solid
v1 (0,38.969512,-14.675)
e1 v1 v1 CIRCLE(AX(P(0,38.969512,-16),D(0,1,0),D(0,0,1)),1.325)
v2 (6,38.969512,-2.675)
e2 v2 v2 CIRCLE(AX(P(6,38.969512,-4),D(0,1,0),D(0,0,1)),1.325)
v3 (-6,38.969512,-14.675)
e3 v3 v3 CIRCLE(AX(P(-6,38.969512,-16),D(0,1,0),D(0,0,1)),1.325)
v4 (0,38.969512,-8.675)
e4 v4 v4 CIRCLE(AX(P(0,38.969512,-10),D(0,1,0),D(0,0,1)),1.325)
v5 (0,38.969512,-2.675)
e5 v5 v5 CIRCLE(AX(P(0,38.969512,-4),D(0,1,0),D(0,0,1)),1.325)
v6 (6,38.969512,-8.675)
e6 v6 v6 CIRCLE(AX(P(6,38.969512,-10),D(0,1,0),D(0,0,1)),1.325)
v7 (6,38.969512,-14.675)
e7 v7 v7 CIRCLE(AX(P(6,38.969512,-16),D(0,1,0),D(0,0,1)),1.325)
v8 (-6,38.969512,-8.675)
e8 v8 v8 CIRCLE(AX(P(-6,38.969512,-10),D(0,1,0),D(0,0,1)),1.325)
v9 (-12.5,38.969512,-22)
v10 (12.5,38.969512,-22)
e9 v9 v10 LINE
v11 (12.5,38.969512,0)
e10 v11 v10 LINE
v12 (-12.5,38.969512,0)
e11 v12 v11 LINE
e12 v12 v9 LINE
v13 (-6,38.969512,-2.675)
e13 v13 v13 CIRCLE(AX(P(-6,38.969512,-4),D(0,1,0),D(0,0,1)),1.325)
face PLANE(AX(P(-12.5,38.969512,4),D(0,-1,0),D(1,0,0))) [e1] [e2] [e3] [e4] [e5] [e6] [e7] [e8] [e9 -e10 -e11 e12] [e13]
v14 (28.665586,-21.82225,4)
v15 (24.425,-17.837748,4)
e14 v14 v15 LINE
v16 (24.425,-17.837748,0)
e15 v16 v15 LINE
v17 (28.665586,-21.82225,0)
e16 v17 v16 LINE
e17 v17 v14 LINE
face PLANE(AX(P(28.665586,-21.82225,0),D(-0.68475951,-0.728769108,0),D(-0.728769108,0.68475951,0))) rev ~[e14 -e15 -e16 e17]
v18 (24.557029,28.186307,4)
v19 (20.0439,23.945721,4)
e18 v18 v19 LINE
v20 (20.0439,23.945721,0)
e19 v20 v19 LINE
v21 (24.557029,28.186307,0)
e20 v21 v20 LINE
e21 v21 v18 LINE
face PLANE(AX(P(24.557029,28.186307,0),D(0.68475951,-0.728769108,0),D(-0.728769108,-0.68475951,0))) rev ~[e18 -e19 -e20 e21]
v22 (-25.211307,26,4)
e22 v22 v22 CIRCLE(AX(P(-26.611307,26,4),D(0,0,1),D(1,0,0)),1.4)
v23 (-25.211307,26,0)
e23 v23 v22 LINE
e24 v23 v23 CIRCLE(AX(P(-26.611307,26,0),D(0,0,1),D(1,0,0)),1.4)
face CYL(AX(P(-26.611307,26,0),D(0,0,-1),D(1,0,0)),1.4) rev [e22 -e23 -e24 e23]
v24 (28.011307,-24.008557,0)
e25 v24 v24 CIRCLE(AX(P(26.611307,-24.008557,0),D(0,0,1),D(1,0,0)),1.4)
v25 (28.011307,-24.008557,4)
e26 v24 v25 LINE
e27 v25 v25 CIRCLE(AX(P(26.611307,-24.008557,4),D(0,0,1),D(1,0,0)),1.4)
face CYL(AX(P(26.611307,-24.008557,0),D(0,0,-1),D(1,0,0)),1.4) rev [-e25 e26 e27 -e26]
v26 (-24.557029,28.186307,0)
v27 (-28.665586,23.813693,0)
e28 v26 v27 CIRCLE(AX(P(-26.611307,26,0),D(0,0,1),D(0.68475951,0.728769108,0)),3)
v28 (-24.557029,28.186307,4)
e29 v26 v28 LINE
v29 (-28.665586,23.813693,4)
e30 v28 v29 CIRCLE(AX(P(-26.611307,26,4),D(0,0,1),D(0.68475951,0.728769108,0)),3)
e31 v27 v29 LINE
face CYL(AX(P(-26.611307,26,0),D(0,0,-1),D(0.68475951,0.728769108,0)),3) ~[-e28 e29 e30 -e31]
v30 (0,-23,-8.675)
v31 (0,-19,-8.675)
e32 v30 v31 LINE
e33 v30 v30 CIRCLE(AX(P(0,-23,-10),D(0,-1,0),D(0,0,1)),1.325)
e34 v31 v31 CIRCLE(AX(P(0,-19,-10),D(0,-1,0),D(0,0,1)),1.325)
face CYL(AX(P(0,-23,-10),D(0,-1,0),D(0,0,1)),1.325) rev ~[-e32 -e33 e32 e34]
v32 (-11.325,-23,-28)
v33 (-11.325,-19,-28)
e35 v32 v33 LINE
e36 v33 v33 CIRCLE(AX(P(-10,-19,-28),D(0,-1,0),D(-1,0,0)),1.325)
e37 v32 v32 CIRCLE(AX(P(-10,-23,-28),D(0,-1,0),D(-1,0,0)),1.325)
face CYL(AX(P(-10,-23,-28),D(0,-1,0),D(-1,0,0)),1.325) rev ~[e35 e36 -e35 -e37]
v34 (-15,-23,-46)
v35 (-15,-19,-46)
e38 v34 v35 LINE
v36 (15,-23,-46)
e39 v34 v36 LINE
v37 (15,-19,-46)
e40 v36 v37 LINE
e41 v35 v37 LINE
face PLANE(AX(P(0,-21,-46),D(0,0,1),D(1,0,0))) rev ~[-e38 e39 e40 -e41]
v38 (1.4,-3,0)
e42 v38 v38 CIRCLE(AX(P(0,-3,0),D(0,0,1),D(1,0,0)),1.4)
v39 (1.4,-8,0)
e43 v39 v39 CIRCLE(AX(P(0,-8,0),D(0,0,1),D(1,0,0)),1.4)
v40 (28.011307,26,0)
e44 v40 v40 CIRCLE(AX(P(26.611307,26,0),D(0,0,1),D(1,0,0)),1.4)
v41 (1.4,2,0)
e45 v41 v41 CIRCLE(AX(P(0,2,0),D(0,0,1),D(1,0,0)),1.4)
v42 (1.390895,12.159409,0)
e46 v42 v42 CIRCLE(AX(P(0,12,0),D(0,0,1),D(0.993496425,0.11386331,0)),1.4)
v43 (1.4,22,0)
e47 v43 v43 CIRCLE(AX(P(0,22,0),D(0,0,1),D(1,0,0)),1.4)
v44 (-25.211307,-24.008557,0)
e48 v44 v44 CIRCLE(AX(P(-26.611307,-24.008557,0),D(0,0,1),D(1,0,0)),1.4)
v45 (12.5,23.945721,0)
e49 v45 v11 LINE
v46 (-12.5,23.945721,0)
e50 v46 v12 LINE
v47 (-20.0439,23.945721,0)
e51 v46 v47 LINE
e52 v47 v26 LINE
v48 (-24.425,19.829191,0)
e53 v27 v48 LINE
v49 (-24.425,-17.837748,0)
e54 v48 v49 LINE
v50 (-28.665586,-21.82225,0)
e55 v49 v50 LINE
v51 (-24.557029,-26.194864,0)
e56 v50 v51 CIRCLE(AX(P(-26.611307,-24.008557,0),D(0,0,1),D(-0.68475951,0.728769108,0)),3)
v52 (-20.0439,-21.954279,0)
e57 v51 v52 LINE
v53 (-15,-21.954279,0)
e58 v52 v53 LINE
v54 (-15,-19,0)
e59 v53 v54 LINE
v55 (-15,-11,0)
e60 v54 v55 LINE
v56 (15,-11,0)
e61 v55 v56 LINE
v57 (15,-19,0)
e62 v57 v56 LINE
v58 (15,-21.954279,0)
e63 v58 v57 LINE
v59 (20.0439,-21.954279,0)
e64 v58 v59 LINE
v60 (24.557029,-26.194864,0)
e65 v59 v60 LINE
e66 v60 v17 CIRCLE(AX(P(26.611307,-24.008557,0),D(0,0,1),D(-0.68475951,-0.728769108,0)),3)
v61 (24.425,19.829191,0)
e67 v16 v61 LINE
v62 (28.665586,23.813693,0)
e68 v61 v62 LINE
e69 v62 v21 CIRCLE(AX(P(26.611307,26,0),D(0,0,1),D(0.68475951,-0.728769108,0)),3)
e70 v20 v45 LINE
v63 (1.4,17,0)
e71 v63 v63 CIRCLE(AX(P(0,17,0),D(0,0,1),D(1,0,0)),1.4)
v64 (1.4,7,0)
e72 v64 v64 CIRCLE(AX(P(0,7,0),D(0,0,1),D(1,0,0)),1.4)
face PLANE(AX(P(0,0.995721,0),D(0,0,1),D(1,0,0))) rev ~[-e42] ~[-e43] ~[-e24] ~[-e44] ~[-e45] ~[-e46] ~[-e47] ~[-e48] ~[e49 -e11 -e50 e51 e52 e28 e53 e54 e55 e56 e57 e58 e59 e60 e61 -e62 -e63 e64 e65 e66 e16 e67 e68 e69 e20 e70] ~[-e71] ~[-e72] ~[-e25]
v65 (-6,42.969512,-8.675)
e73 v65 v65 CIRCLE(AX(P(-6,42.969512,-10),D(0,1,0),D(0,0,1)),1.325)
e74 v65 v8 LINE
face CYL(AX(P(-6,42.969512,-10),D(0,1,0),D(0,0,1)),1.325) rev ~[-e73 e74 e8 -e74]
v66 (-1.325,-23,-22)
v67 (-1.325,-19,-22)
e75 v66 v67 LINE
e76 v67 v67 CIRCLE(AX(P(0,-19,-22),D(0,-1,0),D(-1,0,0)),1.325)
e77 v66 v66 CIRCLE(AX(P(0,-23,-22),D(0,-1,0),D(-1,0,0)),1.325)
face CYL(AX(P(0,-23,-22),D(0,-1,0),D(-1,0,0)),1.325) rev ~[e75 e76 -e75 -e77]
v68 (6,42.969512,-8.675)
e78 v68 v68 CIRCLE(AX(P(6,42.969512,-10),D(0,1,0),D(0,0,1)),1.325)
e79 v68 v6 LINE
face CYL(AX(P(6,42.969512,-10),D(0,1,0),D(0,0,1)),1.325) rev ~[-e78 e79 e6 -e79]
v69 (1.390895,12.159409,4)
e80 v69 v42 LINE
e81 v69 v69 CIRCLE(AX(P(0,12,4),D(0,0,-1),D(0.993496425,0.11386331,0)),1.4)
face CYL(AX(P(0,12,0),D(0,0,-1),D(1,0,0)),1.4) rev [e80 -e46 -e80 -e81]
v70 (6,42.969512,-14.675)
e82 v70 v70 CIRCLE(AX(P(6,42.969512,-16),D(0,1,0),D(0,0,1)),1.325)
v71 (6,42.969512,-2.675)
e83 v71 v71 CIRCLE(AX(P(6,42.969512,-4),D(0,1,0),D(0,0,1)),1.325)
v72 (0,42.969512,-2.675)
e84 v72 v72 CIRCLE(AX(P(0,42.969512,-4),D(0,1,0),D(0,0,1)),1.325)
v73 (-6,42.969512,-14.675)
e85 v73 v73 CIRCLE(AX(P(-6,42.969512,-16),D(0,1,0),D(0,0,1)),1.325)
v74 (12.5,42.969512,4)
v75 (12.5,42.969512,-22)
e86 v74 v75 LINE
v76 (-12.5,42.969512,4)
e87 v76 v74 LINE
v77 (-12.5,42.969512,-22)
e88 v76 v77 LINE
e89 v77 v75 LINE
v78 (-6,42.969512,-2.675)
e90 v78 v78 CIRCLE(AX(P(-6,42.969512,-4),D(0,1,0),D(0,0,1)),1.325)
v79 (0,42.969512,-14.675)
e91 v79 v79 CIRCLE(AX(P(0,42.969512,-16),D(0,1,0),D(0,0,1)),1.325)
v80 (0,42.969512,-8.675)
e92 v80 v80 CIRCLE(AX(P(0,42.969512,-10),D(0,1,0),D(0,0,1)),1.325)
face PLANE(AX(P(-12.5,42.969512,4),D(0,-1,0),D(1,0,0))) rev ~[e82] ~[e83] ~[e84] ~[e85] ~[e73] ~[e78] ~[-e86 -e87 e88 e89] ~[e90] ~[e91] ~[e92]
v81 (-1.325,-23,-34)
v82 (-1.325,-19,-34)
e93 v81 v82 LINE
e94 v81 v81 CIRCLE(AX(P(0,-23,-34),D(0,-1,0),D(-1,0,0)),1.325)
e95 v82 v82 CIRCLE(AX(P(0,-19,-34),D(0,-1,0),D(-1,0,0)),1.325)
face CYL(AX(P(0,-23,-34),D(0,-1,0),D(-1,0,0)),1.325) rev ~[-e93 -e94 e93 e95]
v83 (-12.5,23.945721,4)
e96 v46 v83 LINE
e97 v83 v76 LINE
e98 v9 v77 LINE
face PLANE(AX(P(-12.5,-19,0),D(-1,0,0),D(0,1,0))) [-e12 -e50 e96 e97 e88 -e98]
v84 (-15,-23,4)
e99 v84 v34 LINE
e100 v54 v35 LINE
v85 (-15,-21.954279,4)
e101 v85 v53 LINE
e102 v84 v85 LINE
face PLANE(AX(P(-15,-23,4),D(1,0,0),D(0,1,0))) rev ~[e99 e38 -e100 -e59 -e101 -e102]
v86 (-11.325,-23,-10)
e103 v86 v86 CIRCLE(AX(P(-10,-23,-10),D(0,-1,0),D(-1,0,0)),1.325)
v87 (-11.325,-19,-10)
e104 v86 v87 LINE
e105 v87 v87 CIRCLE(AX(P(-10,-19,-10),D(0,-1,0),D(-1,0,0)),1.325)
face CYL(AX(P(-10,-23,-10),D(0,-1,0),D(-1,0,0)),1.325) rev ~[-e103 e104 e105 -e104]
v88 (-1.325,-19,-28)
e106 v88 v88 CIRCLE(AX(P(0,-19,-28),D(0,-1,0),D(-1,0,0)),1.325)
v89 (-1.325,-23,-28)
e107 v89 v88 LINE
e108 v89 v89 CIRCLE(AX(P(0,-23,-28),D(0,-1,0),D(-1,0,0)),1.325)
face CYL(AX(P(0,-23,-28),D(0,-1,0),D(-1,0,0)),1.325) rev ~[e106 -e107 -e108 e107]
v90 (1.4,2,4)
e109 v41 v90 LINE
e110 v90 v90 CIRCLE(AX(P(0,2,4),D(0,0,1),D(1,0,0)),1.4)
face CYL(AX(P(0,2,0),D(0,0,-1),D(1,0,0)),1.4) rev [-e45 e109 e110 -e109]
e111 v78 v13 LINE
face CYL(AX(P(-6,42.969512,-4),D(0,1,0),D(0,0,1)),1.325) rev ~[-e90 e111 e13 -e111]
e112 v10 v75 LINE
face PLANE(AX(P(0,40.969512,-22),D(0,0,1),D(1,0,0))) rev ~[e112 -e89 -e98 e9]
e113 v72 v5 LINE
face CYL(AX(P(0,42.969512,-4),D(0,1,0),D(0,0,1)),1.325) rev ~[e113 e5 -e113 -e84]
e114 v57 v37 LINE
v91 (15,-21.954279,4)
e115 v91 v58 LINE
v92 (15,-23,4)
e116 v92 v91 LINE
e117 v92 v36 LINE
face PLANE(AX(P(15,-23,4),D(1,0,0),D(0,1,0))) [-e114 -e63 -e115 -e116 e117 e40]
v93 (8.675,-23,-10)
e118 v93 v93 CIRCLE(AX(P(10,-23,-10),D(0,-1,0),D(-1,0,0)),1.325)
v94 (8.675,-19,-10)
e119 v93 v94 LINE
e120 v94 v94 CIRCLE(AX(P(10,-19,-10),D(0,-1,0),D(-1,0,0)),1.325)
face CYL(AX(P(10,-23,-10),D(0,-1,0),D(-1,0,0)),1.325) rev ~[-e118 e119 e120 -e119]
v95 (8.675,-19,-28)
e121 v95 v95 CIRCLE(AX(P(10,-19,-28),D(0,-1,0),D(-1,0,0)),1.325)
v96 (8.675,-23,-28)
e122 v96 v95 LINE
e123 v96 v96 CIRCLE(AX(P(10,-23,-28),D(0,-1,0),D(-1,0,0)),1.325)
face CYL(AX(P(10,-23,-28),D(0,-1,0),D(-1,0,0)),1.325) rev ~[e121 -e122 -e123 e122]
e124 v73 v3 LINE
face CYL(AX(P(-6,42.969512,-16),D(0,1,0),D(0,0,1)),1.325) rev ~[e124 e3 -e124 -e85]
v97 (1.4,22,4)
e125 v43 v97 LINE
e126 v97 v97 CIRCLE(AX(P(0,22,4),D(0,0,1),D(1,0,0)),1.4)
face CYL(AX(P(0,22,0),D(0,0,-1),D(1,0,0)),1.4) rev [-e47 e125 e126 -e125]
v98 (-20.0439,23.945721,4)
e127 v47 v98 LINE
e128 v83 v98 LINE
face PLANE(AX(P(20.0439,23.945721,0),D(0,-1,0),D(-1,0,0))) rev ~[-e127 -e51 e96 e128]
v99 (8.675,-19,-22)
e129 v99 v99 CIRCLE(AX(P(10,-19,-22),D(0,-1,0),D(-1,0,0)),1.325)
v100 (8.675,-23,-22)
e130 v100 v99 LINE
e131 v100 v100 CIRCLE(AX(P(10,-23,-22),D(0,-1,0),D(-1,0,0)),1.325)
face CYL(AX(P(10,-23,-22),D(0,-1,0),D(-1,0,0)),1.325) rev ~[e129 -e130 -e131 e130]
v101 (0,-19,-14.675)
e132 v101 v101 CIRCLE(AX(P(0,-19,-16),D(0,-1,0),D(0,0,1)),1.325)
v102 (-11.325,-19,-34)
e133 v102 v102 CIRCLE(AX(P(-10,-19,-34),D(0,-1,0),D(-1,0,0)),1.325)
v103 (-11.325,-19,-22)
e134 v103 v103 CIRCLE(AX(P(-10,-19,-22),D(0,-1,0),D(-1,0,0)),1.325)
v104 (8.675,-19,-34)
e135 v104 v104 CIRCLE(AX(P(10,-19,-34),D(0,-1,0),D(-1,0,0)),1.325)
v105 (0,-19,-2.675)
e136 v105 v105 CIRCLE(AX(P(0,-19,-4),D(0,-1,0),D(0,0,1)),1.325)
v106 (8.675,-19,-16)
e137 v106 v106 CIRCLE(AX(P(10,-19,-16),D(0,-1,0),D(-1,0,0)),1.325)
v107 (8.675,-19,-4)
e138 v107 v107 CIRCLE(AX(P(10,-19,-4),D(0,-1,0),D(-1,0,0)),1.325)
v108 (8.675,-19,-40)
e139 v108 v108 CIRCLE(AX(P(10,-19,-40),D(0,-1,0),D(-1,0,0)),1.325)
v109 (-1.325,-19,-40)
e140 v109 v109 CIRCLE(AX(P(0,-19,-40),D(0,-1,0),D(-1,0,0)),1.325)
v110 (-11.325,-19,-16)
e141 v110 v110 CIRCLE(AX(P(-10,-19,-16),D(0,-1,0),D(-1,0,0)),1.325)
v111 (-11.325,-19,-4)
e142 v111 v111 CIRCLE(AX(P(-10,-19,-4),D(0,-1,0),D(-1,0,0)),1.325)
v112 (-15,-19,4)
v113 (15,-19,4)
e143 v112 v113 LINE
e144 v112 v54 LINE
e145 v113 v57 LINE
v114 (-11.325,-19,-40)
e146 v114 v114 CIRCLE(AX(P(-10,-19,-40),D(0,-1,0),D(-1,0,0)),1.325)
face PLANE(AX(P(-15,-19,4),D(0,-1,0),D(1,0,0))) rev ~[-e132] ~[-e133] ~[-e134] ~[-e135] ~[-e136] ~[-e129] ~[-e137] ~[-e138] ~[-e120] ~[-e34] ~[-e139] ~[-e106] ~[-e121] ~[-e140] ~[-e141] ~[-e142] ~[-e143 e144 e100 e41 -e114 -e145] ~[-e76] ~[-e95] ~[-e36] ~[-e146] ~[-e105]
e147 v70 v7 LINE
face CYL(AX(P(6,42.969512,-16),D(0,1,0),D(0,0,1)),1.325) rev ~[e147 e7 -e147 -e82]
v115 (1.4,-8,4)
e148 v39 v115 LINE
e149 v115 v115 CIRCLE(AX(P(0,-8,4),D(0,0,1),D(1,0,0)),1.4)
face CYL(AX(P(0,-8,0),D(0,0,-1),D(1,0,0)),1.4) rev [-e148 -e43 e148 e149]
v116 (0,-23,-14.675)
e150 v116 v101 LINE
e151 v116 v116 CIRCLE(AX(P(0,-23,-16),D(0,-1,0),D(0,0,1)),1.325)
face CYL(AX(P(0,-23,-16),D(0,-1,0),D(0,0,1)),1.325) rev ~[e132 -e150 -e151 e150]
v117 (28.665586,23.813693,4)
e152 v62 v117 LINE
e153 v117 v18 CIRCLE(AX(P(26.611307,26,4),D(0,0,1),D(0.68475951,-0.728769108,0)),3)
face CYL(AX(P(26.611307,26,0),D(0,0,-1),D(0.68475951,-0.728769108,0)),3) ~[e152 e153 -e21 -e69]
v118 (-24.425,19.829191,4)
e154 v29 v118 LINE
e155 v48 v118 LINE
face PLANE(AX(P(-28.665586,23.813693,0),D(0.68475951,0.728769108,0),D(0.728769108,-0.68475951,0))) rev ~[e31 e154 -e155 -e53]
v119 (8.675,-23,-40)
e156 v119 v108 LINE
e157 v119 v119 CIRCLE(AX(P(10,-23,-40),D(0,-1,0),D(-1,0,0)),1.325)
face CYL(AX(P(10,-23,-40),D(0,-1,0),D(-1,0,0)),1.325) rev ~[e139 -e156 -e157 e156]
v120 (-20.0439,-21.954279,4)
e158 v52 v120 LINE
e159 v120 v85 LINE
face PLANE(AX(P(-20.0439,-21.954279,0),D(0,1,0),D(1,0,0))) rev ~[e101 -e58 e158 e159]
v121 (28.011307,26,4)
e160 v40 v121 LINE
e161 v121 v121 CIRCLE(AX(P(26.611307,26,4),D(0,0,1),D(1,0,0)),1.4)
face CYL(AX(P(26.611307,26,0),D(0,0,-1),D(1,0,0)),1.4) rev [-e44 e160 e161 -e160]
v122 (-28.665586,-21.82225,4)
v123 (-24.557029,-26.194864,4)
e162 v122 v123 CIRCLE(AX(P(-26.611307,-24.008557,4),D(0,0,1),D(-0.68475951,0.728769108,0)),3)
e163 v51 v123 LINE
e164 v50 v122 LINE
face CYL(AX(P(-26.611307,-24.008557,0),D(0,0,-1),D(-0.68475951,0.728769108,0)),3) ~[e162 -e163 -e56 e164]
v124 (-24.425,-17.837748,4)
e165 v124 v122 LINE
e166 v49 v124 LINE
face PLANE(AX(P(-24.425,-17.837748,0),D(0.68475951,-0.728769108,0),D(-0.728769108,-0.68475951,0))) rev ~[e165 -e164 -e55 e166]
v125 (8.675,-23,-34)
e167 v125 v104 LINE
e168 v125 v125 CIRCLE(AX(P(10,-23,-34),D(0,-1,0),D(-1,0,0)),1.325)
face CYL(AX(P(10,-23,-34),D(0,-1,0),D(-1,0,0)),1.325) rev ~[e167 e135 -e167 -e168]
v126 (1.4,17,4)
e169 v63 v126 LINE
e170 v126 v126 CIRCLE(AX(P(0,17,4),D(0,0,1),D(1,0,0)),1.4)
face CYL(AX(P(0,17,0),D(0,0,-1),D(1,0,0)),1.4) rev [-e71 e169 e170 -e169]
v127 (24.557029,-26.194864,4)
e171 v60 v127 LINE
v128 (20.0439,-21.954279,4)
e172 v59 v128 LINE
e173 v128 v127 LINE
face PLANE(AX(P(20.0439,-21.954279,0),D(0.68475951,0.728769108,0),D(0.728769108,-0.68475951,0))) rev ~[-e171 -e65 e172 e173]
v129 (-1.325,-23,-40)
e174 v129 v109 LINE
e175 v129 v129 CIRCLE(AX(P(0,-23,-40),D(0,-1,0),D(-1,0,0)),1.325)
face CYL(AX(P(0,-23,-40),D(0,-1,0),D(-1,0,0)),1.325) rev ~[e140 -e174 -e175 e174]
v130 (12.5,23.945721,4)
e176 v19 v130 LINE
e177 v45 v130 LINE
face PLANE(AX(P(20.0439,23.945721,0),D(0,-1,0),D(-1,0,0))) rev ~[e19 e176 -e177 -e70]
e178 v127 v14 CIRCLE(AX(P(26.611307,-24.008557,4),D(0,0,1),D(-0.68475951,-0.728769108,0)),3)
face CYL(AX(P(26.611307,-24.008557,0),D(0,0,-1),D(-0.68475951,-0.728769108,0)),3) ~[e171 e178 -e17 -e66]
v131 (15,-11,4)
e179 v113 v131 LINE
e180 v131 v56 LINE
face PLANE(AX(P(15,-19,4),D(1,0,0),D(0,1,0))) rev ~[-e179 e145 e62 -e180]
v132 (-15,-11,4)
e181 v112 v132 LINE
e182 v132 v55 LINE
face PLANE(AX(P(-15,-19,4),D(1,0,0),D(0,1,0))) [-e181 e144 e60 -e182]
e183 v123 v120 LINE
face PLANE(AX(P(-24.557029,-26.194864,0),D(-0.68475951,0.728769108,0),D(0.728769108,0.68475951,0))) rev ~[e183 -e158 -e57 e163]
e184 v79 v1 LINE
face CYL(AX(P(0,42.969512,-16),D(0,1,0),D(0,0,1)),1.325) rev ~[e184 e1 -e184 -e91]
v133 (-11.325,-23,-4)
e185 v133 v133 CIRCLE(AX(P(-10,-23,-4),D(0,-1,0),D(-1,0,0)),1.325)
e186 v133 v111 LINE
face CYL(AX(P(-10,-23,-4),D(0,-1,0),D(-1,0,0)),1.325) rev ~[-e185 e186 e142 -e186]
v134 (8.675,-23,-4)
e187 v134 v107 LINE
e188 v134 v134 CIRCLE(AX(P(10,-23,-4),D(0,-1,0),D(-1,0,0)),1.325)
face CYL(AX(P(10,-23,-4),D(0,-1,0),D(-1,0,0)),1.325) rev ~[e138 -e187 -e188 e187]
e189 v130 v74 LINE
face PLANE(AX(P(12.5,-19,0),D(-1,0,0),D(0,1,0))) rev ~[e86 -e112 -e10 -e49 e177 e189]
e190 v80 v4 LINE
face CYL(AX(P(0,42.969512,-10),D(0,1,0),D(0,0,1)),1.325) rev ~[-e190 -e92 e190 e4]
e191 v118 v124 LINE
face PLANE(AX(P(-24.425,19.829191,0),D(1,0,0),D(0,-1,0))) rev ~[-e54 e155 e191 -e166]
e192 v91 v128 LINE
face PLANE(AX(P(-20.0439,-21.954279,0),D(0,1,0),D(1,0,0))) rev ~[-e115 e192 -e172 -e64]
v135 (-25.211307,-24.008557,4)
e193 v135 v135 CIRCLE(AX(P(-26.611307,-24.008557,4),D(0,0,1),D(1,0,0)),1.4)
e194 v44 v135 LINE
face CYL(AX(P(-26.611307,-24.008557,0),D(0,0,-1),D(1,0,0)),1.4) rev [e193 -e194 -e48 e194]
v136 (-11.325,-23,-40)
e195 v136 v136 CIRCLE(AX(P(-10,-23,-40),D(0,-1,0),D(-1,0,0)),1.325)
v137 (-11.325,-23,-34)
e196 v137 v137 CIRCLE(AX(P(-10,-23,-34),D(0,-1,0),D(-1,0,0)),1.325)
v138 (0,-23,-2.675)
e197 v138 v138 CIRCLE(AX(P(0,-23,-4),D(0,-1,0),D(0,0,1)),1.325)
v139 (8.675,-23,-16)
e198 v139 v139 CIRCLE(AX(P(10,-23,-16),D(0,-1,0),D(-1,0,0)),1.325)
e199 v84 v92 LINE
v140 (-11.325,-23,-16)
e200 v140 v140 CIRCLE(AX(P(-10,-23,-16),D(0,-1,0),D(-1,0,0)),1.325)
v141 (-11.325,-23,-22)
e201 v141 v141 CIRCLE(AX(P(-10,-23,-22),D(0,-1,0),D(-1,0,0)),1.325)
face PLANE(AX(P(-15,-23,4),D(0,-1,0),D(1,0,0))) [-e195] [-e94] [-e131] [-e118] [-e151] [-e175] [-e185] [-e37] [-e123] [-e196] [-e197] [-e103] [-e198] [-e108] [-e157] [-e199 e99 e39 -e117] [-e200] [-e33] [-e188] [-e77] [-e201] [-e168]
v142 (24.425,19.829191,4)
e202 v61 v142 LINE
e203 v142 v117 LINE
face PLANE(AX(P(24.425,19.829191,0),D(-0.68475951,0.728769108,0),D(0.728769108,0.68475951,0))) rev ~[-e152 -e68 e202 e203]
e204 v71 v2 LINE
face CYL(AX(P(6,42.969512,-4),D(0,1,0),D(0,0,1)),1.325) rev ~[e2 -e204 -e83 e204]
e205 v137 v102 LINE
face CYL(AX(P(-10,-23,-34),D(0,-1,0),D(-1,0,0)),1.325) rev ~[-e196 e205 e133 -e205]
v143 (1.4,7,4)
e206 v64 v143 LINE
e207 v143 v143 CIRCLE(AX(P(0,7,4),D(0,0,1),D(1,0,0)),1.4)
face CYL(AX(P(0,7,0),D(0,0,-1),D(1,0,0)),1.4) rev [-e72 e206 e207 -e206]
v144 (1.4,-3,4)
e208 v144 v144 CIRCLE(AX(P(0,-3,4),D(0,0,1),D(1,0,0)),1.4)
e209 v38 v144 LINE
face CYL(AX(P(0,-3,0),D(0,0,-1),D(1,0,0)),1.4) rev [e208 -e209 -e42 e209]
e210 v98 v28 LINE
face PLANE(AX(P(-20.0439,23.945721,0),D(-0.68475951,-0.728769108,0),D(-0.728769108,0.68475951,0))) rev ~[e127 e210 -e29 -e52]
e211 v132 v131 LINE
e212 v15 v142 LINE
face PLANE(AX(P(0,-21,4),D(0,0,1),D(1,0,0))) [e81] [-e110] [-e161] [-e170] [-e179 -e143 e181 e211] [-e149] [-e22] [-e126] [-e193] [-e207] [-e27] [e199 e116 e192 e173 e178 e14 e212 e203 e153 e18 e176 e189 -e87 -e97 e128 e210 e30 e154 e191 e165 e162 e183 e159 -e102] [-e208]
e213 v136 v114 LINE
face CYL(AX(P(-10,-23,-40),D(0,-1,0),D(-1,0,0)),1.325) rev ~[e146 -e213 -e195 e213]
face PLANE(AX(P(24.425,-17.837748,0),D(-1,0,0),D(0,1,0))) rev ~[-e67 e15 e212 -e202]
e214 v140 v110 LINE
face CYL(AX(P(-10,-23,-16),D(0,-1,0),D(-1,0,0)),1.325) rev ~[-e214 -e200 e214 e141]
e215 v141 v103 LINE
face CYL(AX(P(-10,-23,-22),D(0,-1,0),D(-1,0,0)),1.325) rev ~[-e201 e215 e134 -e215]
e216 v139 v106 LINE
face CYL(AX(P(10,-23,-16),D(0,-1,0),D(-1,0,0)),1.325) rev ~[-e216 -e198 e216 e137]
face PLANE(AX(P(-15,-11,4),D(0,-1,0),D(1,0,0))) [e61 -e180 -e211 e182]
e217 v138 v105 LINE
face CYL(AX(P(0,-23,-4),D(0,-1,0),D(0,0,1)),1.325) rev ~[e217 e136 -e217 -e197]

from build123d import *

# Parameters (mm, degrees)
SKETCH_1_W                      = 25
SKETCH_1_H                      = 58
SKETCH_1_R                      = 1.4
EXTRUDE_1_DEPTH                 = 4
SKETCH_2_R                      = 1.4
EXTRUDE_2_DEPTH                 = 4
SKETCH_1_2_R                    = 1.4
CUT_EXTRUDE_1_DEPTH             = 4
EXTRUDE_START                   = 4
SKETCH_3_W                      = 25
SKETCH_3_H                      = 4
EXTRUDE_3_DEPTH                 = 26
SKETCH_4_R                      = 1.325
CUT_EXTRUDE_2_DEPTH             = 4
SKETCH_3_3_W                    = 30
SKETCH_3_3_H                    = 4
EXTRUDE_4_DEPTH                 = 50
CUT_EXTRUDE_3_REACH             = 87.702
SKETCH_5_R                      = 1.325
CUT_EXTRUDE_3_DIRECTION_2_DEPTH = 86.70184362
SKETCH_6_W                      = 30
SKETCH_6_H                      = 8
CUT_EXTRUDE_4_DEPTH             = 50


with BuildPart() as part:
    # 草图1 → 凸台-拉伸1 (new body)
    with BuildSketch(Plane.XY):
        with Locations((0, 10)):
            Rectangle(SKETCH_1_W, SKETCH_1_H)
        with Locations((0, 22)):
            Circle(SKETCH_1_R, mode=Mode.SUBTRACT)
        with Locations((0, 17)):
            Circle(SKETCH_1_R, mode=Mode.SUBTRACT)
        with Locations((0, 12)):
            Circle(SKETCH_1_R, mode=Mode.SUBTRACT)
        with Locations((0, 7)):
            Circle(SKETCH_1_R, mode=Mode.SUBTRACT)
        with Locations((0, 2)):
            Circle(SKETCH_1_R, mode=Mode.SUBTRACT)
        with Locations((0, -3)):
            Circle(SKETCH_1_R, mode=Mode.SUBTRACT)
        with Locations((0, -8)):
            Circle(SKETCH_1_R, mode=Mode.SUBTRACT)
        with Locations((0, -13)):
            Circle(SKETCH_1_R, mode=Mode.SUBTRACT)
    extrude(amount=EXTRUDE_1_DEPTH)

    # 草图2 → 凸台-拉伸2 (add)
    with BuildSketch(Plane.XY):
        with BuildLine():
            Line((-20.043899839, 23.945721469), (-24.557028794, 28.186307325))
            ThreePointArc((-24.557028794, 28.186307325), (-28.79761465, 28.054278531), (-28.665585855, 23.813692675))
            Line((-28.665585855, 23.813692675), (-24.425, 19.829191329))
            Line((-24.425, 19.829191329), (-24.425, -17.83774839))
            Line((-24.425, -17.83774839), (-28.665585855, -21.822249736))
            ThreePointArc((-28.665585855, -21.822249736), (-28.79761465, -26.062835592), (-24.557028794, -26.194864386))
            Line((-24.557028794, -26.194864386), (-20.043899839, -21.954278531))
            Line((-20.043899839, -21.954278531), (20.043899839, -21.954278531))
            Line((20.043899839, -21.954278531), (24.557028794, -26.194864386))
            ThreePointArc((24.557028794, -26.194864386), (28.79761465, -26.062835592), (28.665585855, -21.822249736))
            Line((28.665585855, -21.822249736), (24.425, -17.83774839))
            Line((24.425, -17.83774839), (24.425, 19.829191329))
            Line((24.425, 19.829191329), (28.665585855, 23.813692675))
            ThreePointArc((28.665585855, 23.813692675), (28.79761465, 28.054278531), (24.557028794, 28.186307325))
            Line((24.557028794, 28.186307325), (20.043899839, 23.945721469))
            Line((20.043899839, 23.945721469), (-20.043899839, 23.945721469))
        make_face()
        with Locations((-26.611307325, 26)):
            Circle(SKETCH_2_R, mode=Mode.SUBTRACT)
        with Locations((26.611307325, 26)):
            Circle(SKETCH_2_R, mode=Mode.SUBTRACT)
        with Locations((-26.611307325, -24.008557061)):
            Circle(SKETCH_2_R, mode=Mode.SUBTRACT)
        with Locations((26.611307325, -24.008557061)):
            Circle(SKETCH_2_R, mode=Mode.SUBTRACT)
        with BuildLine():
            Line((11.022703843, 3.245721469), (11.549645381, 3.245721469))
            Line((11.549645381, 3.245721469), (11.549645381, -1.254278531))
            Line((11.549645381, -1.254278531), (11.022703843, -1.254278531))
            ThreePointArc((11.022703843, -1.254278531), (-11.25, 0.995721469), (11.022703843, 3.245721469))
        make_face(mode=Mode.SUBTRACT)
    extrude(amount=EXTRUDE_2_DEPTH)

    # 草图1<2> → 切除-拉伸1 (cut)
    with BuildSketch(Plane.XY):
        with Locations((0, 22)):
            Circle(SKETCH_1_2_R)
        with Locations((0, 17)):
            Circle(SKETCH_1_2_R)
        with Locations((0, 12)):
            Circle(SKETCH_1_2_R)
        with Locations((0, -13)):
            Circle(SKETCH_1_2_R)
    extrude(amount=CUT_EXTRUDE_1_DEPTH, mode=Mode.SUBTRACT)

    # 草图3 → 凸台-拉伸3 (add)
    with BuildSketch(Plane.XY.offset(EXTRUDE_START)):
        with Locations((0, 40.969511733)):
            Rectangle(SKETCH_3_W, SKETCH_3_H)
    extrude(amount=-EXTRUDE_3_DEPTH)

    # 草图4 → 切除-拉伸2 (cut)
    with BuildSketch(Plane(origin=(0, 42.969511733, 0), x_dir=(1, 0, 0), z_dir=(0, 1, 0))):
        with Locations(Location((0, 4, 0), (0, 0, 270))):
            Circle(SKETCH_4_R)
        with Locations(Location((6, 4, 0), (0, 0, 270))):
            Circle(SKETCH_4_R)
        with Locations(Location((6, 10, 0), (0, 0, 270))):
            Circle(SKETCH_4_R)
        with Locations(Location((0, 10, 0), (0, 0, 270))):
            Circle(SKETCH_4_R)
        with Locations(Location((0, 16, 0), (0, 0, 270))):
            Circle(SKETCH_4_R)
        with Locations(Location((6, 16, 0), (0, 0, 270))):
            Circle(SKETCH_4_R)
        with Locations(Location((-6, 4, 0), (0, 0, 270))):
            Circle(SKETCH_4_R)
        with Locations(Location((-6, 10, 0), (0, 0, 270))):
            Circle(SKETCH_4_R)
        with Locations(Location((-6, 16, 0), (0, 0, 270))):
            Circle(SKETCH_4_R)
    extrude(amount=-CUT_EXTRUDE_2_DEPTH, mode=Mode.SUBTRACT)

    # 草图3<3> → 凸台-拉伸4 (add)
    with BuildSketch(Plane.XY.offset(EXTRUDE_START)):
        with Locations((0, -21)):
            Rectangle(SKETCH_3_3_W, SKETCH_3_3_H)
    extrude(amount=-EXTRUDE_4_DEPTH)

    # 草图5 → 切除-拉伸3 (cut, up to next)
    with BuildSketch(Plane.XZ.offset(23), mode=Mode.PRIVATE) as cut_extrude_3_sk1:
        with Locations(Location((0, -4, 0), (0, 0, 90))):
            Circle(SKETCH_5_R)
    cut_extrude_3_tool1 = extrude(cut_extrude_3_sk1.sketch, amount=-CUT_EXTRUDE_3_REACH, mode=Mode.PRIVATE) & part.part
    # 草图5 → 切除-拉伸3 (cut, up to next)
    with BuildSketch(Plane.XZ.offset(23), mode=Mode.PRIVATE) as cut_extrude_3_sk2:
        with Locations(Location((10, -4, 0), (0, 0, 180))):
            Circle(SKETCH_5_R)
    cut_extrude_3_tool2 = extrude(cut_extrude_3_sk2.sketch, amount=-CUT_EXTRUDE_3_REACH, mode=Mode.PRIVATE) & part.part
    # 草图5 → 切除-拉伸3 (cut, up to next)
    with BuildSketch(Plane.XZ.offset(23), mode=Mode.PRIVATE) as cut_extrude_3_sk3:
        with Locations(Location((10, -10, 0), (0, 0, 180))):
            Circle(SKETCH_5_R)
    cut_extrude_3_tool3 = extrude(cut_extrude_3_sk3.sketch, amount=-CUT_EXTRUDE_3_REACH, mode=Mode.PRIVATE) & part.part
    # 草图5 → 切除-拉伸3 (cut, up to next)
    with BuildSketch(Plane.XZ.offset(23), mode=Mode.PRIVATE) as cut_extrude_3_sk4:
        with Locations(Location((10, -16, 0), (0, 0, 180))):
            Circle(SKETCH_5_R)
    cut_extrude_3_tool4 = extrude(cut_extrude_3_sk4.sketch, amount=-CUT_EXTRUDE_3_REACH, mode=Mode.PRIVATE) & part.part
    # 草图5 → 切除-拉伸3 (cut, up to next)
    with BuildSketch(Plane.XZ.offset(23), mode=Mode.PRIVATE) as cut_extrude_3_sk5:
        with Locations(Location((10, -22, 0), (0, 0, 180))):
            Circle(SKETCH_5_R)
    cut_extrude_3_tool5 = extrude(cut_extrude_3_sk5.sketch, amount=-CUT_EXTRUDE_3_REACH, mode=Mode.PRIVATE) & part.part
    # 草图5 → 切除-拉伸3 (cut, up to next)
    with BuildSketch(Plane.XZ.offset(23), mode=Mode.PRIVATE) as cut_extrude_3_sk6:
        with Locations(Location((10, -28, 0), (0, 0, 180))):
            Circle(SKETCH_5_R)
    cut_extrude_3_tool6 = extrude(cut_extrude_3_sk6.sketch, amount=-CUT_EXTRUDE_3_REACH, mode=Mode.PRIVATE) & part.part
    # 草图5 → 切除-拉伸3 (cut, up to next)
    with BuildSketch(Plane.XZ.offset(23), mode=Mode.PRIVATE) as cut_extrude_3_sk7:
        with Locations(Location((10, -34, 0), (0, 0, 180))):
            Circle(SKETCH_5_R)
    cut_extrude_3_tool7 = extrude(cut_extrude_3_sk7.sketch, amount=-CUT_EXTRUDE_3_REACH, mode=Mode.PRIVATE) & part.part
    # 草图5 → 切除-拉伸3 (cut, up to next)
    with BuildSketch(Plane.XZ.offset(23), mode=Mode.PRIVATE) as cut_extrude_3_sk8:
        with Locations(Location((10, -40, 0), (0, 0, 180))):
            Circle(SKETCH_5_R)
    cut_extrude_3_tool8 = extrude(cut_extrude_3_sk8.sketch, amount=-CUT_EXTRUDE_3_REACH, mode=Mode.PRIVATE) & part.part
    # 草图5 → 切除-拉伸3 (cut, up to next)
    with BuildSketch(Plane.XZ.offset(23), mode=Mode.PRIVATE) as cut_extrude_3_sk9:
        with Locations(Location((0, -10, 0), (0, 0, 90))):
            Circle(SKETCH_5_R)
    cut_extrude_3_tool9 = extrude(cut_extrude_3_sk9.sketch, amount=-CUT_EXTRUDE_3_REACH, mode=Mode.PRIVATE) & part.part
    # 草图5 → 切除-拉伸3 (cut, up to next)
    with BuildSketch(Plane.XZ.offset(23), mode=Mode.PRIVATE) as cut_extrude_3_sk10:
        with Locations(Location((0, -16, 0), (0, 0, 90))):
            Circle(SKETCH_5_R)
    cut_extrude_3_tool10 = extrude(cut_extrude_3_sk10.sketch, amount=-CUT_EXTRUDE_3_REACH, mode=Mode.PRIVATE) & part.part
    # 草图5 → 切除-拉伸3 (cut, up to next)
    with BuildSketch(Plane.XZ.offset(23), mode=Mode.PRIVATE) as cut_extrude_3_sk11:
        with Locations(Location((0, -22, 0), (0, 0, 180))):
            Circle(SKETCH_5_R)
    cut_extrude_3_tool11 = extrude(cut_extrude_3_sk11.sketch, amount=-CUT_EXTRUDE_3_REACH, mode=Mode.PRIVATE) & part.part
    # 草图5 → 切除-拉伸3 (cut, up to next)
    with BuildSketch(Plane.XZ.offset(23), mode=Mode.PRIVATE) as cut_extrude_3_sk12:
        with Locations(Location((0, -28, 0), (0, 0, 180))):
            Circle(SKETCH_5_R)
    cut_extrude_3_tool12 = extrude(cut_extrude_3_sk12.sketch, amount=-CUT_EXTRUDE_3_REACH, mode=Mode.PRIVATE) & part.part
    # 草图5 → 切除-拉伸3 (cut, up to next)
    with BuildSketch(Plane.XZ.offset(23), mode=Mode.PRIVATE) as cut_extrude_3_sk13:
        with Locations(Location((0, -34, 0), (0, 0, 180))):
            Circle(SKETCH_5_R)
    cut_extrude_3_tool13 = extrude(cut_extrude_3_sk13.sketch, amount=-CUT_EXTRUDE_3_REACH, mode=Mode.PRIVATE) & part.part
    # 草图5 → 切除-拉伸3 (cut, up to next)
    with BuildSketch(Plane.XZ.offset(23), mode=Mode.PRIVATE) as cut_extrude_3_sk14:
        with Locations(Location((0, -40, 0), (0, 0, 180))):
            Circle(SKETCH_5_R)
    cut_extrude_3_tool14 = extrude(cut_extrude_3_sk14.sketch, amount=-CUT_EXTRUDE_3_REACH, mode=Mode.PRIVATE) & part.part
    # 草图5 → 切除-拉伸3 (cut, up to next)
    with BuildSketch(Plane.XZ.offset(23), mode=Mode.PRIVATE) as cut_extrude_3_sk15:
        with Locations(Location((-10, -40, 0), (0, 0, 180))):
            Circle(SKETCH_5_R)
    cut_extrude_3_tool15 = extrude(cut_extrude_3_sk15.sketch, amount=-CUT_EXTRUDE_3_REACH, mode=Mode.PRIVATE) & part.part
    # 草图5 → 切除-拉伸3 (cut, up to next)
    with BuildSketch(Plane.XZ.offset(23), mode=Mode.PRIVATE) as cut_extrude_3_sk16:
        with Locations(Location((-10, -34, 0), (0, 0, 180))):
            Circle(SKETCH_5_R)
    cut_extrude_3_tool16 = extrude(cut_extrude_3_sk16.sketch, amount=-CUT_EXTRUDE_3_REACH, mode=Mode.PRIVATE) & part.part
    # 草图5 → 切除-拉伸3 (cut, up to next)
    with BuildSketch(Plane.XZ.offset(23), mode=Mode.PRIVATE) as cut_extrude_3_sk17:
        with Locations(Location((-10, -28, 0), (0, 0, 180))):
            Circle(SKETCH_5_R)
    cut_extrude_3_tool17 = extrude(cut_extrude_3_sk17.sketch, amount=-CUT_EXTRUDE_3_REACH, mode=Mode.PRIVATE) & part.part
    # 草图5 → 切除-拉伸3 (cut, up to next)
    with BuildSketch(Plane.XZ.offset(23), mode=Mode.PRIVATE) as cut_extrude_3_sk18:
        with Locations(Location((-10, -22, 0), (0, 0, 180))):
            Circle(SKETCH_5_R)
    cut_extrude_3_tool18 = extrude(cut_extrude_3_sk18.sketch, amount=-CUT_EXTRUDE_3_REACH, mode=Mode.PRIVATE) & part.part
    # 草图5 → 切除-拉伸3 (cut, up to next)
    with BuildSketch(Plane.XZ.offset(23), mode=Mode.PRIVATE) as cut_extrude_3_sk19:
        with Locations(Location((-10, -16, 0), (0, 0, 180))):
            Circle(SKETCH_5_R)
    cut_extrude_3_tool19 = extrude(cut_extrude_3_sk19.sketch, amount=-CUT_EXTRUDE_3_REACH, mode=Mode.PRIVATE) & part.part
    # 草图5 → 切除-拉伸3 (cut, up to next)
    with BuildSketch(Plane.XZ.offset(23), mode=Mode.PRIVATE) as cut_extrude_3_sk20:
        with Locations(Location((-10, -10, 0), (0, 0, 180))):
            Circle(SKETCH_5_R)
    cut_extrude_3_tool20 = extrude(cut_extrude_3_sk20.sketch, amount=-CUT_EXTRUDE_3_REACH, mode=Mode.PRIVATE) & part.part
    # 草图5 → 切除-拉伸3 (cut, up to next)
    with BuildSketch(Plane.XZ.offset(23), mode=Mode.PRIVATE) as cut_extrude_3_sk21:
        with Locations(Location((-10, -4, 0), (0, 0, 180))):
            Circle(SKETCH_5_R)
    cut_extrude_3_tool21 = extrude(cut_extrude_3_sk21.sketch, amount=-CUT_EXTRUDE_3_REACH, mode=Mode.PRIVATE) & part.part
    add(cut_extrude_3_tool1.solids().sort_by_distance((0, -23, -4))[0], mode=Mode.SUBTRACT)
    add(cut_extrude_3_tool2.solids().sort_by_distance((10, -23, -4))[0], mode=Mode.SUBTRACT)
    add(cut_extrude_3_tool3.solids().sort_by_distance((10, -23, -10))[0], mode=Mode.SUBTRACT)
    add(cut_extrude_3_tool4.solids().sort_by_distance((10, -23, -16))[0], mode=Mode.SUBTRACT)
    add(cut_extrude_3_tool5.solids().sort_by_distance((10, -23, -22))[0], mode=Mode.SUBTRACT)
    add(cut_extrude_3_tool6.solids().sort_by_distance((10, -23, -28))[0], mode=Mode.SUBTRACT)
    add(cut_extrude_3_tool7.solids().sort_by_distance((10, -23, -34))[0], mode=Mode.SUBTRACT)
    add(cut_extrude_3_tool8.solids().sort_by_distance((10, -23, -40))[0], mode=Mode.SUBTRACT)
    add(cut_extrude_3_tool9.solids().sort_by_distance((0, -23, -10))[0], mode=Mode.SUBTRACT)
    add(cut_extrude_3_tool10.solids().sort_by_distance((0, -23, -16))[0], mode=Mode.SUBTRACT)
    add(cut_extrude_3_tool11.solids().sort_by_distance((0, -23, -22))[0], mode=Mode.SUBTRACT)
    add(cut_extrude_3_tool12.solids().sort_by_distance((0, -23, -28))[0], mode=Mode.SUBTRACT)
    add(cut_extrude_3_tool13.solids().sort_by_distance((0, -23, -34))[0], mode=Mode.SUBTRACT)
    add(cut_extrude_3_tool14.solids().sort_by_distance((0, -23, -40))[0], mode=Mode.SUBTRACT)
    add(cut_extrude_3_tool15.solids().sort_by_distance((-10, -23, -40))[0], mode=Mode.SUBTRACT)
    add(cut_extrude_3_tool16.solids().sort_by_distance((-10, -23, -34))[0], mode=Mode.SUBTRACT)
    add(cut_extrude_3_tool17.solids().sort_by_distance((-10, -23, -28))[0], mode=Mode.SUBTRACT)
    add(cut_extrude_3_tool18.solids().sort_by_distance((-10, -23, -22))[0], mode=Mode.SUBTRACT)
    add(cut_extrude_3_tool19.solids().sort_by_distance((-10, -23, -16))[0], mode=Mode.SUBTRACT)
    add(cut_extrude_3_tool20.solids().sort_by_distance((-10, -23, -10))[0], mode=Mode.SUBTRACT)
    add(cut_extrude_3_tool21.solids().sort_by_distance((-10, -23, -4))[0], mode=Mode.SUBTRACT)

    # 草图5 → 切除-拉伸3 direction 2 (cut)
    with BuildSketch(Plane.XZ.offset(23)):
        with Locations(Location((0, -4, 0), (0, 0, 90))):
            Circle(SKETCH_5_R)
        with Locations(Location((10, -4, 0), (0, 0, 180))):
            Circle(SKETCH_5_R)
        with Locations(Location((10, -10, 0), (0, 0, 180))):
            Circle(SKETCH_5_R)
        with Locations(Location((10, -16, 0), (0, 0, 180))):
            Circle(SKETCH_5_R)
        with Locations(Location((10, -22, 0), (0, 0, 180))):
            Circle(SKETCH_5_R)
        with Locations(Location((10, -28, 0), (0, 0, 180))):
            Circle(SKETCH_5_R)
        with Locations(Location((10, -34, 0), (0, 0, 180))):
            Circle(SKETCH_5_R)
        with Locations(Location((10, -40, 0), (0, 0, 180))):
            Circle(SKETCH_5_R)
        with Locations(Location((0, -10, 0), (0, 0, 90))):
            Circle(SKETCH_5_R)
        with Locations(Location((0, -16, 0), (0, 0, 90))):
            Circle(SKETCH_5_R)
        with Locations(Location((0, -22, 0), (0, 0, 180))):
            Circle(SKETCH_5_R)
        with Locations(Location((0, -28, 0), (0, 0, 180))):
            Circle(SKETCH_5_R)
        with Locations(Location((0, -34, 0), (0, 0, 180))):
            Circle(SKETCH_5_R)
        with Locations(Location((0, -40, 0), (0, 0, 180))):
            Circle(SKETCH_5_R)
        with Locations(Location((-10, -40, 0), (0, 0, 180))):
            Circle(SKETCH_5_R)
        with Locations(Location((-10, -34, 0), (0, 0, 180))):
            Circle(SKETCH_5_R)
        with Locations(Location((-10, -28, 0), (0, 0, 180))):
            Circle(SKETCH_5_R)
        with Locations(Location((-10, -22, 0), (0, 0, 180))):
            Circle(SKETCH_5_R)
        with Locations(Location((-10, -16, 0), (0, 0, 180))):
            Circle(SKETCH_5_R)
        with Locations(Location((-10, -10, 0), (0, 0, 180))):
            Circle(SKETCH_5_R)
        with Locations(Location((-10, -4, 0), (0, 0, 180))):
            Circle(SKETCH_5_R)
    extrude(amount=CUT_EXTRUDE_3_DIRECTION_2_DEPTH, mode=Mode.SUBTRACT)

    # 草图6 → 切除-拉伸4 (cut)
    with BuildSketch(Plane.XY.offset(4)):
        with Locations((0, -15)):
            Rectangle(SKETCH_6_W, SKETCH_6_H)
    extrude(amount=-CUT_EXTRUDE_4_DEPTH, mode=Mode.SUBTRACT)


solid = part.part
